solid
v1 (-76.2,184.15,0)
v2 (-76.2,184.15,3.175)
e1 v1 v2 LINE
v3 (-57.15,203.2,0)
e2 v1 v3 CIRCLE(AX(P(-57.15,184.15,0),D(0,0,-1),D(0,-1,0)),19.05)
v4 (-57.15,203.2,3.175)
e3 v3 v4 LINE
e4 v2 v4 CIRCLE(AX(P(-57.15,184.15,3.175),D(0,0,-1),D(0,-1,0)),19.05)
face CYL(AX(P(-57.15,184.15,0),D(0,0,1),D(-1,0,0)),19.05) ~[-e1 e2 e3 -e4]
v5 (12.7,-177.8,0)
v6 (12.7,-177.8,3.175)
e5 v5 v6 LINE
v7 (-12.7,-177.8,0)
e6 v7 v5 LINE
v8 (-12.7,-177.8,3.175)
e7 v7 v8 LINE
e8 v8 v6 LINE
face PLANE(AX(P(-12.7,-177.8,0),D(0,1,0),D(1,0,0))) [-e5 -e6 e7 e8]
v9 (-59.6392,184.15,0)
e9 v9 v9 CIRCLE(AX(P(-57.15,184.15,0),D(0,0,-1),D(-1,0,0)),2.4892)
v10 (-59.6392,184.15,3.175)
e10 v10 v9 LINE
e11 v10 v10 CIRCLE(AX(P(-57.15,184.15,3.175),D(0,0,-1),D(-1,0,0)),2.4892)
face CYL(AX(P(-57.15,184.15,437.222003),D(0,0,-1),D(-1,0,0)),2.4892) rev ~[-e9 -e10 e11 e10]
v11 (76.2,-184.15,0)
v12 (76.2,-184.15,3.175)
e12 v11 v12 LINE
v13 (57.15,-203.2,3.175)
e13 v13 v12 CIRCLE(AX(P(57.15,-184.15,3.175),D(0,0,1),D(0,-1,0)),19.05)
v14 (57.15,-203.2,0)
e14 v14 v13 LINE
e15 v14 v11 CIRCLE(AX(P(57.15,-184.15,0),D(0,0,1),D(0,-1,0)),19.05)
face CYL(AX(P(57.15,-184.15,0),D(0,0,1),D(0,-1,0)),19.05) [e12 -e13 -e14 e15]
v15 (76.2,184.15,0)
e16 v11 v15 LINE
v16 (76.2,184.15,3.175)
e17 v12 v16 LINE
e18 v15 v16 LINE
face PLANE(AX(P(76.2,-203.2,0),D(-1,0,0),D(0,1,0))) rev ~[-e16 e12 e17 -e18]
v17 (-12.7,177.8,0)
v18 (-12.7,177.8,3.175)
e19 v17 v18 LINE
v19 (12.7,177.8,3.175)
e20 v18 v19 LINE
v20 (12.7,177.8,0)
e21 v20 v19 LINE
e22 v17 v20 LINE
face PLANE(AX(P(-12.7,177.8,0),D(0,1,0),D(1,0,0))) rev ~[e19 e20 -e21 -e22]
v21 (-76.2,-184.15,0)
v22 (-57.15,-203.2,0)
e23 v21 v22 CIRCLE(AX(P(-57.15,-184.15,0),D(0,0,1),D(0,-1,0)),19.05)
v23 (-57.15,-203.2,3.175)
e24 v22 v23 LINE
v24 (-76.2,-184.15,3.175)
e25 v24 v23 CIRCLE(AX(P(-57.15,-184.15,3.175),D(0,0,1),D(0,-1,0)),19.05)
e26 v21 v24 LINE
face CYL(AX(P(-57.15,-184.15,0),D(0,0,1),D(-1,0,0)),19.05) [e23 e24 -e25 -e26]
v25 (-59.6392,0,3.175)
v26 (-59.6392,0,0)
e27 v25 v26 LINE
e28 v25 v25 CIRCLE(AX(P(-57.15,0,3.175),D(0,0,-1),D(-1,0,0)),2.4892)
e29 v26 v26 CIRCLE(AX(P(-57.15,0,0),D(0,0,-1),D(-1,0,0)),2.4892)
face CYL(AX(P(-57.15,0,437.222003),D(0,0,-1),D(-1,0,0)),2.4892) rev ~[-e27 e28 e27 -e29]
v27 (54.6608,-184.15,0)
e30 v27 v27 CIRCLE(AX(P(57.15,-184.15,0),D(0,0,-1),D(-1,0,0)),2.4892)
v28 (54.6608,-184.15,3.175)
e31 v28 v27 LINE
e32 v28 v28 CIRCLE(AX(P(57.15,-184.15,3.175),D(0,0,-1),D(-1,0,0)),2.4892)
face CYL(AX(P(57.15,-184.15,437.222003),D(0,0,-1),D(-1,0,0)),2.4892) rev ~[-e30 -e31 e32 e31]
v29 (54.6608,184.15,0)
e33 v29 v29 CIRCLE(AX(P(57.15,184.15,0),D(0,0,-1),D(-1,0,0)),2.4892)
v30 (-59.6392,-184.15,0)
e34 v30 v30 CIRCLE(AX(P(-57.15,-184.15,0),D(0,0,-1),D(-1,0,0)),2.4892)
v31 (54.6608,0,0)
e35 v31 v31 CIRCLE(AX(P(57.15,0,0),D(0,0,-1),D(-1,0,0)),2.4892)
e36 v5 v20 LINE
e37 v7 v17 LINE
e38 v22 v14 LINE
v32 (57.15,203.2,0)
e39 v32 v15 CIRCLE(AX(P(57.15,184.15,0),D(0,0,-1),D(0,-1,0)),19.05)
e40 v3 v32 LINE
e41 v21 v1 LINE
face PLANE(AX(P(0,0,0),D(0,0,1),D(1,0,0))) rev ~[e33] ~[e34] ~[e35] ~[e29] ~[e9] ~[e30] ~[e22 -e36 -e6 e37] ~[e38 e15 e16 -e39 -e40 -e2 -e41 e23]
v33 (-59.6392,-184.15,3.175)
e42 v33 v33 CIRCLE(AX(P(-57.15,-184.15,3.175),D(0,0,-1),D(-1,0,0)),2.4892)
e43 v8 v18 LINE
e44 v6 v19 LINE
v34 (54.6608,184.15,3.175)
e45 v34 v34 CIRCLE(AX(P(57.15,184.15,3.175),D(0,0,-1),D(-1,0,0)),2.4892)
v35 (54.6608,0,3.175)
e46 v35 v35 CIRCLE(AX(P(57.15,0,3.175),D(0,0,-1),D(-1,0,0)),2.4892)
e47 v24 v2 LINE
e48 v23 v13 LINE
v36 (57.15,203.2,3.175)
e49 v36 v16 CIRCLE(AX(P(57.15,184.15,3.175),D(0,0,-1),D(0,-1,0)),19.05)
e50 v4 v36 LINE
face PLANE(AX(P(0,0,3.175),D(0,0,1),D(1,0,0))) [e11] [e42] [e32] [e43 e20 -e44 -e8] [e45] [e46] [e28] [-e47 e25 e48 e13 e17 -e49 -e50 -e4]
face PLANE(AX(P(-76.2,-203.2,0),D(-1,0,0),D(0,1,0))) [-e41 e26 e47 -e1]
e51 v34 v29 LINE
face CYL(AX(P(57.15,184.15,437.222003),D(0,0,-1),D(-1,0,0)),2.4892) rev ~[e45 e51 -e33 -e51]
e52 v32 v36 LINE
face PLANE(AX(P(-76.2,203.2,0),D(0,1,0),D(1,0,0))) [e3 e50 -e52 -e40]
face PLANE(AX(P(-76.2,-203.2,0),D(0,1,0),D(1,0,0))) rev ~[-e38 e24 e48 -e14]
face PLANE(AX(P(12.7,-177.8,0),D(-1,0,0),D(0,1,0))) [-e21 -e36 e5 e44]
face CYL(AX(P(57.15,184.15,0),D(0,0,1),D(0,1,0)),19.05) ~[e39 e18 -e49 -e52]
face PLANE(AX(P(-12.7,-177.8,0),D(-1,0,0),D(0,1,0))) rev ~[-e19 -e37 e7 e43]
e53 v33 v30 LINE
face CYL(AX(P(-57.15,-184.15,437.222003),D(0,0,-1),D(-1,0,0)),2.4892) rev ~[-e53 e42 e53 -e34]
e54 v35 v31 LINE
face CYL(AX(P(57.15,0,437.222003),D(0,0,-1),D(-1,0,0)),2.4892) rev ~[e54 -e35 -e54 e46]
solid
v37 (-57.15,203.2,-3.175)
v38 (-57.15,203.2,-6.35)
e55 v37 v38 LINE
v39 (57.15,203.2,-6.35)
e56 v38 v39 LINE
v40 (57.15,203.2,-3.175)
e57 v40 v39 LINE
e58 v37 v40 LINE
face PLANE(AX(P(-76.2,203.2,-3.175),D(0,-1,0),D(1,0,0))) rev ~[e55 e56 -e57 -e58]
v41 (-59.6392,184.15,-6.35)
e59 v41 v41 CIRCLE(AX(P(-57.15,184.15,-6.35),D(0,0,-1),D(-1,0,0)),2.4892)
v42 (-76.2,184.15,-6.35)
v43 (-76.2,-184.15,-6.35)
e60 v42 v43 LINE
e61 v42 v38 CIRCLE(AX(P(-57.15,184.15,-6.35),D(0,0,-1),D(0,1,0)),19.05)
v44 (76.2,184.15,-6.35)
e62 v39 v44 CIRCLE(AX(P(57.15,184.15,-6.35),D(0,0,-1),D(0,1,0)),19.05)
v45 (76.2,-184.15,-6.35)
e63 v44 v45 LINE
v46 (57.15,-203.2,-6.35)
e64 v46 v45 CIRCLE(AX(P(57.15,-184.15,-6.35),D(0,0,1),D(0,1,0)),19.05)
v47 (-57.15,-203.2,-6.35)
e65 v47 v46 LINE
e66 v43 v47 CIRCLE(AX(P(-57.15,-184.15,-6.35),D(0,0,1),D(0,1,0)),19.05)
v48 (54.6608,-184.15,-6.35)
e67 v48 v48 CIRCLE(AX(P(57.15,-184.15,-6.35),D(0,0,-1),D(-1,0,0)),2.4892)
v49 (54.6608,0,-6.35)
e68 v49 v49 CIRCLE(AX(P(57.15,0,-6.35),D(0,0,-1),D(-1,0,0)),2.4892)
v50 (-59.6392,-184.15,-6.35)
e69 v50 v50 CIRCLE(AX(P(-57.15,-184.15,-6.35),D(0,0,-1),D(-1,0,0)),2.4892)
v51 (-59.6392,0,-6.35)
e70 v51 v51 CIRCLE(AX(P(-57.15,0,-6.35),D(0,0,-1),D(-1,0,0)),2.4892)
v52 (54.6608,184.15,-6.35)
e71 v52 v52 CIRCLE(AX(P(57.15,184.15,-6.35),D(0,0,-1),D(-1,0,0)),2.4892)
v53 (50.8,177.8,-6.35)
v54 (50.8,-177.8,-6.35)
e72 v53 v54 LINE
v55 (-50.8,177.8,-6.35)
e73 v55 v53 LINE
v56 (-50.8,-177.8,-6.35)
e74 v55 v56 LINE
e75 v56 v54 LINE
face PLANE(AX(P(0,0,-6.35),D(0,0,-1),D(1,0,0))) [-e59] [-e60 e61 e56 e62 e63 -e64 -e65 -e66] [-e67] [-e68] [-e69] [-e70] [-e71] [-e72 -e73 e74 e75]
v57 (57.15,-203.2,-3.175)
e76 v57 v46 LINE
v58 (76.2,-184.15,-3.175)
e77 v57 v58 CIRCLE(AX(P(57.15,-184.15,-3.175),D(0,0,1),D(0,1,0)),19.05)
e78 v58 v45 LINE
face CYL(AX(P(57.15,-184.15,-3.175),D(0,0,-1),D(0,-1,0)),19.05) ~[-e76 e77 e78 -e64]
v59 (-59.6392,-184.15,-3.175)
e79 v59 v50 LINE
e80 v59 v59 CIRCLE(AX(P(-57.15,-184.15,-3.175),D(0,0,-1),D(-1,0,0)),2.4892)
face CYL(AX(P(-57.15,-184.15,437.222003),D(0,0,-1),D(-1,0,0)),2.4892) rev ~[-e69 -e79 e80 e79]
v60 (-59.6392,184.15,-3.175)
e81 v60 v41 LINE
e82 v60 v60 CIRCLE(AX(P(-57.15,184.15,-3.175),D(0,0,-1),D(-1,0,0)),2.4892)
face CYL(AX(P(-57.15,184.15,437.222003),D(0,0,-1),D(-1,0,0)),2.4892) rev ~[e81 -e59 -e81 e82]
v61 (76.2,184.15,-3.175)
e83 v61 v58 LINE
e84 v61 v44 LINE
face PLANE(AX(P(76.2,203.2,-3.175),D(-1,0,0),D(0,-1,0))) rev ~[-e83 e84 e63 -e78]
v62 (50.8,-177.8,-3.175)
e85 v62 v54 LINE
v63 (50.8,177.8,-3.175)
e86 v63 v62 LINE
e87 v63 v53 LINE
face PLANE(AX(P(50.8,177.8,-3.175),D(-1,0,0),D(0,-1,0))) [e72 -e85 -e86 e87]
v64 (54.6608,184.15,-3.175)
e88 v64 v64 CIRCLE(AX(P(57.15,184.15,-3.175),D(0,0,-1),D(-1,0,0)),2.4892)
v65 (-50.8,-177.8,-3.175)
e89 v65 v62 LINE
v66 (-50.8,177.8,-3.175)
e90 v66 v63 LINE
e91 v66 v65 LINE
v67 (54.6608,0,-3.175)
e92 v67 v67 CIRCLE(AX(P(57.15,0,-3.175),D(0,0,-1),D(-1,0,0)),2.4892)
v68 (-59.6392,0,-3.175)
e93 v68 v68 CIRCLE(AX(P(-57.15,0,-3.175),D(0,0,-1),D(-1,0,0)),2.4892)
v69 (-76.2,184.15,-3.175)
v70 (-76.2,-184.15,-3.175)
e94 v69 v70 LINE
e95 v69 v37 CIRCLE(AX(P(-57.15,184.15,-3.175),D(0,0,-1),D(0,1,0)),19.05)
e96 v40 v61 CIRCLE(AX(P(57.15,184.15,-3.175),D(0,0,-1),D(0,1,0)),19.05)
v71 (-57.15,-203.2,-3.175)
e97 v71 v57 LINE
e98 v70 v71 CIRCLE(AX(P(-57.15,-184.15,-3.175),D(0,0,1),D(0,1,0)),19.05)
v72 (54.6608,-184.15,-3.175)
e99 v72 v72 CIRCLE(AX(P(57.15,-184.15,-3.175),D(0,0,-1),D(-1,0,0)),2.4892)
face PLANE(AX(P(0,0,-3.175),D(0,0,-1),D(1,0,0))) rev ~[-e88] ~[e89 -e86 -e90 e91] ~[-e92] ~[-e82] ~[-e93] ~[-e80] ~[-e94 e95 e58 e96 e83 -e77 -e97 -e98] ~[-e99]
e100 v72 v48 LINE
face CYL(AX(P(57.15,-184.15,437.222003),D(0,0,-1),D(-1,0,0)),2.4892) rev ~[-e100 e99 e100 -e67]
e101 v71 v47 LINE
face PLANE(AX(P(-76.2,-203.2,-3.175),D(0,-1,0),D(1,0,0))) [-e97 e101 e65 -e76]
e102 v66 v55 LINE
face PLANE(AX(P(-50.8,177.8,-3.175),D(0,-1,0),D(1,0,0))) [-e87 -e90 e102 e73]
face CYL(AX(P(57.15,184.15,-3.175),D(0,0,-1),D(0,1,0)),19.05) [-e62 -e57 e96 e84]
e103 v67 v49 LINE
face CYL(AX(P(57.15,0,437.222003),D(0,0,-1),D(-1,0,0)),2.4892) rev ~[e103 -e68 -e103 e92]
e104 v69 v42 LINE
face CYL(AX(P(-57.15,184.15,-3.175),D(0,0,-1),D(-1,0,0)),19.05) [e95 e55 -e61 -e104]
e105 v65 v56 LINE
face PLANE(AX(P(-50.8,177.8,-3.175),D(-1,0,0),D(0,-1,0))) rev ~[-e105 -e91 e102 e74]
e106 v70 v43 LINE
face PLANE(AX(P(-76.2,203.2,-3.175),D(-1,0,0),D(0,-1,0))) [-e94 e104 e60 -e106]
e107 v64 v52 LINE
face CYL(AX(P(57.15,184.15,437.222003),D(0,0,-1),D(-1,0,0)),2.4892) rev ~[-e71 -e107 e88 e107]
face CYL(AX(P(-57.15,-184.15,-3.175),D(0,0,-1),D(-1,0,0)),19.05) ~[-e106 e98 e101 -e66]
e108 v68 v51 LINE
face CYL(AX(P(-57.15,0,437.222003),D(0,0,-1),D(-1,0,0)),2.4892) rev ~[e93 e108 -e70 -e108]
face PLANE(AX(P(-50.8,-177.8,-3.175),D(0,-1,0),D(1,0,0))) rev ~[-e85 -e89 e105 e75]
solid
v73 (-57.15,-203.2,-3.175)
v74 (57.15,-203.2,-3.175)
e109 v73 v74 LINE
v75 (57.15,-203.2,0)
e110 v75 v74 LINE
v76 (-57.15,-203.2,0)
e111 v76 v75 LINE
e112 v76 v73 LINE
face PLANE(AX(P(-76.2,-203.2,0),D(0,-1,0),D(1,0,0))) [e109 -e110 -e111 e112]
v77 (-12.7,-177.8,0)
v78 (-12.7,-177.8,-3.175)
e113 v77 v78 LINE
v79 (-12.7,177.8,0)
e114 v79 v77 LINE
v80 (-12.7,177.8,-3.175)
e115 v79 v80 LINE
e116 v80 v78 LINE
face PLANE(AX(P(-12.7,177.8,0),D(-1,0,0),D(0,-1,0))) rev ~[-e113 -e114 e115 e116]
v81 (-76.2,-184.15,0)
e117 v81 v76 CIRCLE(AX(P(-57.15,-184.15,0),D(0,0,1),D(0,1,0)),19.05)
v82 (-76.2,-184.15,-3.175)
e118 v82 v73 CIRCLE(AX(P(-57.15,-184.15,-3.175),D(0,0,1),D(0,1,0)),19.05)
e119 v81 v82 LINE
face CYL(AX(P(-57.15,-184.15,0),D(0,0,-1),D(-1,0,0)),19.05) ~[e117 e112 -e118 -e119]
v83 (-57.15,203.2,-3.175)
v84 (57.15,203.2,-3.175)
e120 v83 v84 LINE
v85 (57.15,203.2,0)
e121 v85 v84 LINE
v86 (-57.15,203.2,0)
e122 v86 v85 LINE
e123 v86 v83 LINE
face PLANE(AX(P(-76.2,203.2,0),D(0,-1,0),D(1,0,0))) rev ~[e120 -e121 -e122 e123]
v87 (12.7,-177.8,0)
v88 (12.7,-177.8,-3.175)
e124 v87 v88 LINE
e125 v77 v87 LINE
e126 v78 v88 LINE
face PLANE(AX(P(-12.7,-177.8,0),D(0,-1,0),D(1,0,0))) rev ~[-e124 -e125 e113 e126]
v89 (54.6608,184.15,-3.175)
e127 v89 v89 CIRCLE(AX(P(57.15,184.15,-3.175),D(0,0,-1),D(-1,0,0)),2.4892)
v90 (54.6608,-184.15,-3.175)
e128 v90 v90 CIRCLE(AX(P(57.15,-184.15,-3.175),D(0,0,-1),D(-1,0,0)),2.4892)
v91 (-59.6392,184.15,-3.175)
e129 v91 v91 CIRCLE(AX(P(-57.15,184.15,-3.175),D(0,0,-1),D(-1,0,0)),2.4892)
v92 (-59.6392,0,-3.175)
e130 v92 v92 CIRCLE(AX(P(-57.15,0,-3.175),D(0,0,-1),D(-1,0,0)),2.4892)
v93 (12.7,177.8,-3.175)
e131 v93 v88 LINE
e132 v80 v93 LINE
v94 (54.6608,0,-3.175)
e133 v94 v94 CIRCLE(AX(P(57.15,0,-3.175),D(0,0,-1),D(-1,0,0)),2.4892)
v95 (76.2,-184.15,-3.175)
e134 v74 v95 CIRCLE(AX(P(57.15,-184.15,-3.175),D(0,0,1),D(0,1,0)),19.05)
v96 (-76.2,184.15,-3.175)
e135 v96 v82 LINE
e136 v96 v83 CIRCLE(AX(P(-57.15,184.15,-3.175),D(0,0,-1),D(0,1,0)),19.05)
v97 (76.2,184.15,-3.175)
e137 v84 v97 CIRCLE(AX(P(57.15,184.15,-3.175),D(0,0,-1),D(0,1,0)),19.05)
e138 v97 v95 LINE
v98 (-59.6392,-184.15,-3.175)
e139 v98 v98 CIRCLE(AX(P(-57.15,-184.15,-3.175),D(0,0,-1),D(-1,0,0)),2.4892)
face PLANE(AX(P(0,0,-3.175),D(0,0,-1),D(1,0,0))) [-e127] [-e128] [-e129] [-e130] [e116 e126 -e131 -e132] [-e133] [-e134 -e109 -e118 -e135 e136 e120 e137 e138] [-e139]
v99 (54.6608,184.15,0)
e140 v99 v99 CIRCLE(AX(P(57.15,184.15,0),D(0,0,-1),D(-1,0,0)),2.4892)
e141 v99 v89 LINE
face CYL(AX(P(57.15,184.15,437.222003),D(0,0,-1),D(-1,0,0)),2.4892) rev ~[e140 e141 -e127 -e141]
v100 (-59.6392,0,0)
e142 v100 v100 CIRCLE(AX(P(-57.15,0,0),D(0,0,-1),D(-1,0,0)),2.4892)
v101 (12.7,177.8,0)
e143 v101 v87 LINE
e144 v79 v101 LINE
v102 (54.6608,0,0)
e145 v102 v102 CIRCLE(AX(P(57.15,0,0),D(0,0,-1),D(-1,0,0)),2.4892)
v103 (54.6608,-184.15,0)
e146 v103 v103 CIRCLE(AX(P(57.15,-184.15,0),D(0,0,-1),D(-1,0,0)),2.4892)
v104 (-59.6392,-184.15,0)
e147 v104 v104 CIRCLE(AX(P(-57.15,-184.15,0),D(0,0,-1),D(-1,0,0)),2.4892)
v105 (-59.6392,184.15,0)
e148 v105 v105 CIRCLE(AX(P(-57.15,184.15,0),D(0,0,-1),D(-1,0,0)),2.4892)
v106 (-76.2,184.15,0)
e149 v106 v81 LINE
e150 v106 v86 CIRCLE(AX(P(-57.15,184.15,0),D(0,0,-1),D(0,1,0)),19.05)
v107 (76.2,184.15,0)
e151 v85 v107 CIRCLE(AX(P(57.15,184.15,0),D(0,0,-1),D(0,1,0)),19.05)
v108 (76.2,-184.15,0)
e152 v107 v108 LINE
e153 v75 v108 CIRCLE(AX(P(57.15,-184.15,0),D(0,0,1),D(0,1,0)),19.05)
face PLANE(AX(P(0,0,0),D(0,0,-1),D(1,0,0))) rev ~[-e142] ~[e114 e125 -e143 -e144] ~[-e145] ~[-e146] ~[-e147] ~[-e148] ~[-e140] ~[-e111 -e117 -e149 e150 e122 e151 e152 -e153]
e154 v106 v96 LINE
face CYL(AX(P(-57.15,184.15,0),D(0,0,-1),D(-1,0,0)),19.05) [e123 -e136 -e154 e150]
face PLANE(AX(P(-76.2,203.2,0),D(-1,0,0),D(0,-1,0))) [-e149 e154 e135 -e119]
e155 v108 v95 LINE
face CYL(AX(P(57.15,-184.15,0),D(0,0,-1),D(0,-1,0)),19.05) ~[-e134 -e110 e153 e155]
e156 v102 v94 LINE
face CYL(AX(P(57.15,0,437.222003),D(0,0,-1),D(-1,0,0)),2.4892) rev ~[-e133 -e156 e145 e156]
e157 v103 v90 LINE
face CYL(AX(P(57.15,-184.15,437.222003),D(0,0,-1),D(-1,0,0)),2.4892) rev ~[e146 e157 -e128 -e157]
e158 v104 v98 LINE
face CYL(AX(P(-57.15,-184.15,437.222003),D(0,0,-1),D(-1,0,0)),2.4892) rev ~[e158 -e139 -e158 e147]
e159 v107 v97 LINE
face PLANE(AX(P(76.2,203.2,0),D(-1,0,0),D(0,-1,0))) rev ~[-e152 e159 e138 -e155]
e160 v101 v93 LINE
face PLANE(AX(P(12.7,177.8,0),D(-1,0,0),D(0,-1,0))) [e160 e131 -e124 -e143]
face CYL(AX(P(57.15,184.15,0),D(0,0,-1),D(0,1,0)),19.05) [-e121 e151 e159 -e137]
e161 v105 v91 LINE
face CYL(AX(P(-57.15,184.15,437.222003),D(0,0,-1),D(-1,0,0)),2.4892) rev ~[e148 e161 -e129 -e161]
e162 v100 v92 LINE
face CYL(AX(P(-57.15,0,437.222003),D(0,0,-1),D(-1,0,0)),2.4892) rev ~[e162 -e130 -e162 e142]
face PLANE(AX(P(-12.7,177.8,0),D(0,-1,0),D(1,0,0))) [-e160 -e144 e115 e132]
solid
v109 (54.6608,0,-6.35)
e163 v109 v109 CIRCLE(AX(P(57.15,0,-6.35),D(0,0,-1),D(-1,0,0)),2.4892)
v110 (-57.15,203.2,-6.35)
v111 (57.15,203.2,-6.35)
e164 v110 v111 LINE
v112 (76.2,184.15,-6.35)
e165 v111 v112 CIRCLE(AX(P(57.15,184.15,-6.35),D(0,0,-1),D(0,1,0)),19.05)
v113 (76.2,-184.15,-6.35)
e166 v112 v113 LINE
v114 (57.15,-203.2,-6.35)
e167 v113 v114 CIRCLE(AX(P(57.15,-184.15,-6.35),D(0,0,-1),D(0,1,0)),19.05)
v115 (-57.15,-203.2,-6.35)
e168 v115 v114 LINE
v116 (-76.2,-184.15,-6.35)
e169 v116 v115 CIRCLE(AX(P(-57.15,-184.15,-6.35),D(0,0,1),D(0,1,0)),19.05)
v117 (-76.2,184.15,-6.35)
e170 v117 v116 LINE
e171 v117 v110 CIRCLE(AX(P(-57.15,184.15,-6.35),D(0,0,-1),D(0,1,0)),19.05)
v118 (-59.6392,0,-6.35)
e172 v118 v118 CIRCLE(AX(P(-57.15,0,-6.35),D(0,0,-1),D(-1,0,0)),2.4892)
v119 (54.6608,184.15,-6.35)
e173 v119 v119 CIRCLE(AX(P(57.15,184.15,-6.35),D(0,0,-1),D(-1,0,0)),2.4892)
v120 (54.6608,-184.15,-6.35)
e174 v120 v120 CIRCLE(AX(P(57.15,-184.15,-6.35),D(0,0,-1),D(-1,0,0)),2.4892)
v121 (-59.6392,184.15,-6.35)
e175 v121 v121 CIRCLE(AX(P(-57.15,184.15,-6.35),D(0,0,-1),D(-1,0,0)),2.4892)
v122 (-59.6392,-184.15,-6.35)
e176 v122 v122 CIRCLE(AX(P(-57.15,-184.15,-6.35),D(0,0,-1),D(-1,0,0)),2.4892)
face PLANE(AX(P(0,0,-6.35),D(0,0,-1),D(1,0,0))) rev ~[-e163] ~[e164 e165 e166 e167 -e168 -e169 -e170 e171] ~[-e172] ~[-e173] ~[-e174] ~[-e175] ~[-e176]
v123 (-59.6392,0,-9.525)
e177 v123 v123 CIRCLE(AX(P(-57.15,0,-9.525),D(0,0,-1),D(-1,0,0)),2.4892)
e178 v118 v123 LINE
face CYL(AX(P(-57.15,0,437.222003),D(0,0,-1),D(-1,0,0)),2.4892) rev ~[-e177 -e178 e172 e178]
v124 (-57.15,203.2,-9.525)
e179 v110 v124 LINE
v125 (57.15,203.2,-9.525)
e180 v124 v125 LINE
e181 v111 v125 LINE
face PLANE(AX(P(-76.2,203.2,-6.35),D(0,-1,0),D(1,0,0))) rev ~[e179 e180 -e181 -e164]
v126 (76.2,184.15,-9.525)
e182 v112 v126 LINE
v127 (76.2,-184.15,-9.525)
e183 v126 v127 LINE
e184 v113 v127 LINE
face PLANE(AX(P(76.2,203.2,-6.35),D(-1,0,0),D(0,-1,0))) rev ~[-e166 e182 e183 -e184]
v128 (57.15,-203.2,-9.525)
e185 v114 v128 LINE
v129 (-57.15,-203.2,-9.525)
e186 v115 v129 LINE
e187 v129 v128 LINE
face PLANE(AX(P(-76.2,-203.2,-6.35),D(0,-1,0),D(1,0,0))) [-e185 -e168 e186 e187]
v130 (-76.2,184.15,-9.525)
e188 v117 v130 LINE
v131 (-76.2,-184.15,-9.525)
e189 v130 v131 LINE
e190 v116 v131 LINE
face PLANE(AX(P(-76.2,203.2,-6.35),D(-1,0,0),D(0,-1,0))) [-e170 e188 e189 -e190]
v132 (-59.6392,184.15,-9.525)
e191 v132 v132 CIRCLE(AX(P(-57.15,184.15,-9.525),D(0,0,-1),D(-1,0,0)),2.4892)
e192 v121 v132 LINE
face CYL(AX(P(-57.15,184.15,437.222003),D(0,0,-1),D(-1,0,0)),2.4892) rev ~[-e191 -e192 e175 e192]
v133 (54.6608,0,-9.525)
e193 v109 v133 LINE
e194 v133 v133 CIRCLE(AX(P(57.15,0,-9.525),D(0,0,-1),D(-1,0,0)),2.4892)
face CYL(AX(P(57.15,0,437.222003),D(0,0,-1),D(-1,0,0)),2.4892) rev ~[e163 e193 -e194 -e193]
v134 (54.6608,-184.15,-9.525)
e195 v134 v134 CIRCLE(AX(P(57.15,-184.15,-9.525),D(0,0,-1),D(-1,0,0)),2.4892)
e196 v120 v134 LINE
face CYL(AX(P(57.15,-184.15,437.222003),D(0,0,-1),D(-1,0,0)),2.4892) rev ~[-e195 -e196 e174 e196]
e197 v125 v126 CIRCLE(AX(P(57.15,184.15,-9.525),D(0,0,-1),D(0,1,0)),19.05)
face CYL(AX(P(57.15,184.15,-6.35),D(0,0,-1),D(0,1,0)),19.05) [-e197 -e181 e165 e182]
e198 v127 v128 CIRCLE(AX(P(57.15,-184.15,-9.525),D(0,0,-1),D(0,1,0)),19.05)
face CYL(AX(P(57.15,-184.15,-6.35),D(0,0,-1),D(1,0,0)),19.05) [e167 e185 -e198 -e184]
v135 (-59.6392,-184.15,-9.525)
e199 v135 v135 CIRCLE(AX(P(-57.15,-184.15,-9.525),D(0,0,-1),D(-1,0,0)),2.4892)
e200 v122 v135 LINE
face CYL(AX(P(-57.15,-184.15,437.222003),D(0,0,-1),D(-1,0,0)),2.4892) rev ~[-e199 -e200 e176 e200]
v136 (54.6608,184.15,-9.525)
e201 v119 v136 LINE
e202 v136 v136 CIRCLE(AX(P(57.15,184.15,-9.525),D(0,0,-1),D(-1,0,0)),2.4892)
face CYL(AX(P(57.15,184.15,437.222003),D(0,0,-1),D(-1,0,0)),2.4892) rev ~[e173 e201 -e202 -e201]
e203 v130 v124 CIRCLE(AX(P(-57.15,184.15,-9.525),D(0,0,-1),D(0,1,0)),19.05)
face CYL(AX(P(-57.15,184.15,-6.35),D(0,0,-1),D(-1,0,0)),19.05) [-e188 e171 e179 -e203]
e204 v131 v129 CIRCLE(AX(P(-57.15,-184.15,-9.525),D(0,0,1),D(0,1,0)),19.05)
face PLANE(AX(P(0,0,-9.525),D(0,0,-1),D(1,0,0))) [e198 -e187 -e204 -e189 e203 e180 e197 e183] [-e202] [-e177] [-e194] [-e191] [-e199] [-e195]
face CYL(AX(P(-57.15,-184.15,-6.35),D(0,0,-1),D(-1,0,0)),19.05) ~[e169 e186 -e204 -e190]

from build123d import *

# Parameters (mm, degrees)
F0_W     = 152.4
F0_H     = 406.4
F0_W_2   = 25.4
F0_H_2   = 355.6
F1_DEPTH = 3.175
F2_W     = 152.4
F2_H     = 406.4
F2_W_2   = 25.4
F2_H_2   = 355.6
F3_DEPTH = 3.175
F4_W     = 152.4
F4_H     = 406.4
F4_W_2   = 101.6
F4_H_2   = 355.6
F5_DEPTH = 3.175
F6_W     = 152.4
F6_H     = 406.4
F7_DEPTH = 3.175
F9_R     = 19.05
F9_2_R   = 19.05
F9_3_R   = 19.05
F9_4_R   = 19.05
F10_D    = 4.9784
F10_2_D  = 4.9784
F10_3_D  = 4.9784
F10_4_D  = 4.9784


with BuildPart() as f1:
    # F0 (on Top) → F1 (new body)
    with BuildSketch(Plane.XY):
        Rectangle(F0_W, F0_H)
        Rectangle(F0_W_2, F0_H_2, mode=Mode.SUBTRACT)
    extrude(amount=F1_DEPTH)

    # F9
    f9_edges = [f1.edges().sort_by_distance(p)[0] for p in [
        (-76.2, -203.2, 1.5875),
        (76.2, -203.2, 1.5875),
        (76.2, 203.2, 1.5875),
        (-76.2, 203.2, 1.5875),
    ]]
    fillet(f9_edges, radius=F9_R)

    # F10 (through all)
    with Locations(Plane.XY.offset(3.175)):
        with Locations((-57.15, 184.15), (57.15, 184.15), (57.15, 0), (-57.15, 0), (-57.15, -184.15), (57.15, -184.15)):
            Hole(F10_D / 2)


with BuildPart() as f3:
    # F2 (on face) → F3 (new body)
    with BuildSketch(Plane(origin=(0, 0, 0), x_dir=(1, 0, 0), z_dir=(0, 0, -1))):
        Rectangle(F2_W, F2_H)
        Rectangle(F2_W_2, F2_H_2, mode=Mode.SUBTRACT)
    extrude(amount=F3_DEPTH)

    # F9#2
    f9_2_edges = [f3.edges().sort_by_distance(p)[0] for p in [
        (-76.2, -203.2, -1.5875),
        (76.2, -203.2, -1.5875),
        (76.2, 203.2, -1.5875),
        (-76.2, 203.2, -1.5875),
    ]]
    fillet(f9_2_edges, radius=F9_2_R)

    # F10#2 (through all)
    with Locations(Plane.XY.offset(3.175)):
        with Locations((-57.15, 184.15), (57.15, 184.15), (57.15, 0), (-57.15, 0), (-57.15, -184.15), (57.15, -184.15)):
            Hole(F10_2_D / 2)


with BuildPart() as f5:
    # F4 (on face) → F5 (new body)
    with BuildSketch(Plane(origin=(0, 0, -3.175), x_dir=(1, 0, 0), z_dir=(0, 0, -1))):
        Rectangle(F4_W, F4_H)
        Rectangle(F4_W_2, F4_H_2, mode=Mode.SUBTRACT)
    extrude(amount=F5_DEPTH)

    # F9#3
    f9_3_edges = [f5.edges().sort_by_distance(p)[0] for p in [
        (-76.2, -203.2, -4.7625),
        (76.2, -203.2, -4.7625),
        (76.2, 203.2, -4.7625),
        (-76.2, 203.2, -4.7625),
    ]]
    fillet(f9_3_edges, radius=F9_3_R)

    # F10#3 (through all)
    with Locations(Plane.XY.offset(3.175)):
        with Locations((-57.15, 184.15), (57.15, 184.15), (57.15, 0), (-57.15, 0), (-57.15, -184.15), (57.15, -184.15)):
            Hole(F10_3_D / 2)


with BuildPart() as f7:
    # F6 (on face) → F7 (new body)
    with BuildSketch(Plane(origin=(0, 0, -6.35), x_dir=(1, 0, 0), z_dir=(0, 0, -1))):
        Rectangle(F6_W, F6_H)
    extrude(amount=F7_DEPTH)

    # F9#4
    f9_4_edges = [f7.edges().sort_by_distance(p)[0] for p in [
        (-76.2, -203.2, -7.9375),
        (76.2, -203.2, -7.9375),
        (76.2, 203.2, -7.9375),
        (-76.2, 203.2, -7.9375),
    ]]
    fillet(f9_4_edges, radius=F9_4_R)

    # F10#4 (through all)
    with Locations(Plane.XY.offset(3.175)):
        with Locations((-57.15, 184.15), (57.15, 184.15), (57.15, 0), (-57.15, 0), (-57.15, -184.15), (57.15, -184.15)):
            Hole(F10_4_D / 2)


solid = Compound([f1.part, f3.part, f5.part, f7.part])
